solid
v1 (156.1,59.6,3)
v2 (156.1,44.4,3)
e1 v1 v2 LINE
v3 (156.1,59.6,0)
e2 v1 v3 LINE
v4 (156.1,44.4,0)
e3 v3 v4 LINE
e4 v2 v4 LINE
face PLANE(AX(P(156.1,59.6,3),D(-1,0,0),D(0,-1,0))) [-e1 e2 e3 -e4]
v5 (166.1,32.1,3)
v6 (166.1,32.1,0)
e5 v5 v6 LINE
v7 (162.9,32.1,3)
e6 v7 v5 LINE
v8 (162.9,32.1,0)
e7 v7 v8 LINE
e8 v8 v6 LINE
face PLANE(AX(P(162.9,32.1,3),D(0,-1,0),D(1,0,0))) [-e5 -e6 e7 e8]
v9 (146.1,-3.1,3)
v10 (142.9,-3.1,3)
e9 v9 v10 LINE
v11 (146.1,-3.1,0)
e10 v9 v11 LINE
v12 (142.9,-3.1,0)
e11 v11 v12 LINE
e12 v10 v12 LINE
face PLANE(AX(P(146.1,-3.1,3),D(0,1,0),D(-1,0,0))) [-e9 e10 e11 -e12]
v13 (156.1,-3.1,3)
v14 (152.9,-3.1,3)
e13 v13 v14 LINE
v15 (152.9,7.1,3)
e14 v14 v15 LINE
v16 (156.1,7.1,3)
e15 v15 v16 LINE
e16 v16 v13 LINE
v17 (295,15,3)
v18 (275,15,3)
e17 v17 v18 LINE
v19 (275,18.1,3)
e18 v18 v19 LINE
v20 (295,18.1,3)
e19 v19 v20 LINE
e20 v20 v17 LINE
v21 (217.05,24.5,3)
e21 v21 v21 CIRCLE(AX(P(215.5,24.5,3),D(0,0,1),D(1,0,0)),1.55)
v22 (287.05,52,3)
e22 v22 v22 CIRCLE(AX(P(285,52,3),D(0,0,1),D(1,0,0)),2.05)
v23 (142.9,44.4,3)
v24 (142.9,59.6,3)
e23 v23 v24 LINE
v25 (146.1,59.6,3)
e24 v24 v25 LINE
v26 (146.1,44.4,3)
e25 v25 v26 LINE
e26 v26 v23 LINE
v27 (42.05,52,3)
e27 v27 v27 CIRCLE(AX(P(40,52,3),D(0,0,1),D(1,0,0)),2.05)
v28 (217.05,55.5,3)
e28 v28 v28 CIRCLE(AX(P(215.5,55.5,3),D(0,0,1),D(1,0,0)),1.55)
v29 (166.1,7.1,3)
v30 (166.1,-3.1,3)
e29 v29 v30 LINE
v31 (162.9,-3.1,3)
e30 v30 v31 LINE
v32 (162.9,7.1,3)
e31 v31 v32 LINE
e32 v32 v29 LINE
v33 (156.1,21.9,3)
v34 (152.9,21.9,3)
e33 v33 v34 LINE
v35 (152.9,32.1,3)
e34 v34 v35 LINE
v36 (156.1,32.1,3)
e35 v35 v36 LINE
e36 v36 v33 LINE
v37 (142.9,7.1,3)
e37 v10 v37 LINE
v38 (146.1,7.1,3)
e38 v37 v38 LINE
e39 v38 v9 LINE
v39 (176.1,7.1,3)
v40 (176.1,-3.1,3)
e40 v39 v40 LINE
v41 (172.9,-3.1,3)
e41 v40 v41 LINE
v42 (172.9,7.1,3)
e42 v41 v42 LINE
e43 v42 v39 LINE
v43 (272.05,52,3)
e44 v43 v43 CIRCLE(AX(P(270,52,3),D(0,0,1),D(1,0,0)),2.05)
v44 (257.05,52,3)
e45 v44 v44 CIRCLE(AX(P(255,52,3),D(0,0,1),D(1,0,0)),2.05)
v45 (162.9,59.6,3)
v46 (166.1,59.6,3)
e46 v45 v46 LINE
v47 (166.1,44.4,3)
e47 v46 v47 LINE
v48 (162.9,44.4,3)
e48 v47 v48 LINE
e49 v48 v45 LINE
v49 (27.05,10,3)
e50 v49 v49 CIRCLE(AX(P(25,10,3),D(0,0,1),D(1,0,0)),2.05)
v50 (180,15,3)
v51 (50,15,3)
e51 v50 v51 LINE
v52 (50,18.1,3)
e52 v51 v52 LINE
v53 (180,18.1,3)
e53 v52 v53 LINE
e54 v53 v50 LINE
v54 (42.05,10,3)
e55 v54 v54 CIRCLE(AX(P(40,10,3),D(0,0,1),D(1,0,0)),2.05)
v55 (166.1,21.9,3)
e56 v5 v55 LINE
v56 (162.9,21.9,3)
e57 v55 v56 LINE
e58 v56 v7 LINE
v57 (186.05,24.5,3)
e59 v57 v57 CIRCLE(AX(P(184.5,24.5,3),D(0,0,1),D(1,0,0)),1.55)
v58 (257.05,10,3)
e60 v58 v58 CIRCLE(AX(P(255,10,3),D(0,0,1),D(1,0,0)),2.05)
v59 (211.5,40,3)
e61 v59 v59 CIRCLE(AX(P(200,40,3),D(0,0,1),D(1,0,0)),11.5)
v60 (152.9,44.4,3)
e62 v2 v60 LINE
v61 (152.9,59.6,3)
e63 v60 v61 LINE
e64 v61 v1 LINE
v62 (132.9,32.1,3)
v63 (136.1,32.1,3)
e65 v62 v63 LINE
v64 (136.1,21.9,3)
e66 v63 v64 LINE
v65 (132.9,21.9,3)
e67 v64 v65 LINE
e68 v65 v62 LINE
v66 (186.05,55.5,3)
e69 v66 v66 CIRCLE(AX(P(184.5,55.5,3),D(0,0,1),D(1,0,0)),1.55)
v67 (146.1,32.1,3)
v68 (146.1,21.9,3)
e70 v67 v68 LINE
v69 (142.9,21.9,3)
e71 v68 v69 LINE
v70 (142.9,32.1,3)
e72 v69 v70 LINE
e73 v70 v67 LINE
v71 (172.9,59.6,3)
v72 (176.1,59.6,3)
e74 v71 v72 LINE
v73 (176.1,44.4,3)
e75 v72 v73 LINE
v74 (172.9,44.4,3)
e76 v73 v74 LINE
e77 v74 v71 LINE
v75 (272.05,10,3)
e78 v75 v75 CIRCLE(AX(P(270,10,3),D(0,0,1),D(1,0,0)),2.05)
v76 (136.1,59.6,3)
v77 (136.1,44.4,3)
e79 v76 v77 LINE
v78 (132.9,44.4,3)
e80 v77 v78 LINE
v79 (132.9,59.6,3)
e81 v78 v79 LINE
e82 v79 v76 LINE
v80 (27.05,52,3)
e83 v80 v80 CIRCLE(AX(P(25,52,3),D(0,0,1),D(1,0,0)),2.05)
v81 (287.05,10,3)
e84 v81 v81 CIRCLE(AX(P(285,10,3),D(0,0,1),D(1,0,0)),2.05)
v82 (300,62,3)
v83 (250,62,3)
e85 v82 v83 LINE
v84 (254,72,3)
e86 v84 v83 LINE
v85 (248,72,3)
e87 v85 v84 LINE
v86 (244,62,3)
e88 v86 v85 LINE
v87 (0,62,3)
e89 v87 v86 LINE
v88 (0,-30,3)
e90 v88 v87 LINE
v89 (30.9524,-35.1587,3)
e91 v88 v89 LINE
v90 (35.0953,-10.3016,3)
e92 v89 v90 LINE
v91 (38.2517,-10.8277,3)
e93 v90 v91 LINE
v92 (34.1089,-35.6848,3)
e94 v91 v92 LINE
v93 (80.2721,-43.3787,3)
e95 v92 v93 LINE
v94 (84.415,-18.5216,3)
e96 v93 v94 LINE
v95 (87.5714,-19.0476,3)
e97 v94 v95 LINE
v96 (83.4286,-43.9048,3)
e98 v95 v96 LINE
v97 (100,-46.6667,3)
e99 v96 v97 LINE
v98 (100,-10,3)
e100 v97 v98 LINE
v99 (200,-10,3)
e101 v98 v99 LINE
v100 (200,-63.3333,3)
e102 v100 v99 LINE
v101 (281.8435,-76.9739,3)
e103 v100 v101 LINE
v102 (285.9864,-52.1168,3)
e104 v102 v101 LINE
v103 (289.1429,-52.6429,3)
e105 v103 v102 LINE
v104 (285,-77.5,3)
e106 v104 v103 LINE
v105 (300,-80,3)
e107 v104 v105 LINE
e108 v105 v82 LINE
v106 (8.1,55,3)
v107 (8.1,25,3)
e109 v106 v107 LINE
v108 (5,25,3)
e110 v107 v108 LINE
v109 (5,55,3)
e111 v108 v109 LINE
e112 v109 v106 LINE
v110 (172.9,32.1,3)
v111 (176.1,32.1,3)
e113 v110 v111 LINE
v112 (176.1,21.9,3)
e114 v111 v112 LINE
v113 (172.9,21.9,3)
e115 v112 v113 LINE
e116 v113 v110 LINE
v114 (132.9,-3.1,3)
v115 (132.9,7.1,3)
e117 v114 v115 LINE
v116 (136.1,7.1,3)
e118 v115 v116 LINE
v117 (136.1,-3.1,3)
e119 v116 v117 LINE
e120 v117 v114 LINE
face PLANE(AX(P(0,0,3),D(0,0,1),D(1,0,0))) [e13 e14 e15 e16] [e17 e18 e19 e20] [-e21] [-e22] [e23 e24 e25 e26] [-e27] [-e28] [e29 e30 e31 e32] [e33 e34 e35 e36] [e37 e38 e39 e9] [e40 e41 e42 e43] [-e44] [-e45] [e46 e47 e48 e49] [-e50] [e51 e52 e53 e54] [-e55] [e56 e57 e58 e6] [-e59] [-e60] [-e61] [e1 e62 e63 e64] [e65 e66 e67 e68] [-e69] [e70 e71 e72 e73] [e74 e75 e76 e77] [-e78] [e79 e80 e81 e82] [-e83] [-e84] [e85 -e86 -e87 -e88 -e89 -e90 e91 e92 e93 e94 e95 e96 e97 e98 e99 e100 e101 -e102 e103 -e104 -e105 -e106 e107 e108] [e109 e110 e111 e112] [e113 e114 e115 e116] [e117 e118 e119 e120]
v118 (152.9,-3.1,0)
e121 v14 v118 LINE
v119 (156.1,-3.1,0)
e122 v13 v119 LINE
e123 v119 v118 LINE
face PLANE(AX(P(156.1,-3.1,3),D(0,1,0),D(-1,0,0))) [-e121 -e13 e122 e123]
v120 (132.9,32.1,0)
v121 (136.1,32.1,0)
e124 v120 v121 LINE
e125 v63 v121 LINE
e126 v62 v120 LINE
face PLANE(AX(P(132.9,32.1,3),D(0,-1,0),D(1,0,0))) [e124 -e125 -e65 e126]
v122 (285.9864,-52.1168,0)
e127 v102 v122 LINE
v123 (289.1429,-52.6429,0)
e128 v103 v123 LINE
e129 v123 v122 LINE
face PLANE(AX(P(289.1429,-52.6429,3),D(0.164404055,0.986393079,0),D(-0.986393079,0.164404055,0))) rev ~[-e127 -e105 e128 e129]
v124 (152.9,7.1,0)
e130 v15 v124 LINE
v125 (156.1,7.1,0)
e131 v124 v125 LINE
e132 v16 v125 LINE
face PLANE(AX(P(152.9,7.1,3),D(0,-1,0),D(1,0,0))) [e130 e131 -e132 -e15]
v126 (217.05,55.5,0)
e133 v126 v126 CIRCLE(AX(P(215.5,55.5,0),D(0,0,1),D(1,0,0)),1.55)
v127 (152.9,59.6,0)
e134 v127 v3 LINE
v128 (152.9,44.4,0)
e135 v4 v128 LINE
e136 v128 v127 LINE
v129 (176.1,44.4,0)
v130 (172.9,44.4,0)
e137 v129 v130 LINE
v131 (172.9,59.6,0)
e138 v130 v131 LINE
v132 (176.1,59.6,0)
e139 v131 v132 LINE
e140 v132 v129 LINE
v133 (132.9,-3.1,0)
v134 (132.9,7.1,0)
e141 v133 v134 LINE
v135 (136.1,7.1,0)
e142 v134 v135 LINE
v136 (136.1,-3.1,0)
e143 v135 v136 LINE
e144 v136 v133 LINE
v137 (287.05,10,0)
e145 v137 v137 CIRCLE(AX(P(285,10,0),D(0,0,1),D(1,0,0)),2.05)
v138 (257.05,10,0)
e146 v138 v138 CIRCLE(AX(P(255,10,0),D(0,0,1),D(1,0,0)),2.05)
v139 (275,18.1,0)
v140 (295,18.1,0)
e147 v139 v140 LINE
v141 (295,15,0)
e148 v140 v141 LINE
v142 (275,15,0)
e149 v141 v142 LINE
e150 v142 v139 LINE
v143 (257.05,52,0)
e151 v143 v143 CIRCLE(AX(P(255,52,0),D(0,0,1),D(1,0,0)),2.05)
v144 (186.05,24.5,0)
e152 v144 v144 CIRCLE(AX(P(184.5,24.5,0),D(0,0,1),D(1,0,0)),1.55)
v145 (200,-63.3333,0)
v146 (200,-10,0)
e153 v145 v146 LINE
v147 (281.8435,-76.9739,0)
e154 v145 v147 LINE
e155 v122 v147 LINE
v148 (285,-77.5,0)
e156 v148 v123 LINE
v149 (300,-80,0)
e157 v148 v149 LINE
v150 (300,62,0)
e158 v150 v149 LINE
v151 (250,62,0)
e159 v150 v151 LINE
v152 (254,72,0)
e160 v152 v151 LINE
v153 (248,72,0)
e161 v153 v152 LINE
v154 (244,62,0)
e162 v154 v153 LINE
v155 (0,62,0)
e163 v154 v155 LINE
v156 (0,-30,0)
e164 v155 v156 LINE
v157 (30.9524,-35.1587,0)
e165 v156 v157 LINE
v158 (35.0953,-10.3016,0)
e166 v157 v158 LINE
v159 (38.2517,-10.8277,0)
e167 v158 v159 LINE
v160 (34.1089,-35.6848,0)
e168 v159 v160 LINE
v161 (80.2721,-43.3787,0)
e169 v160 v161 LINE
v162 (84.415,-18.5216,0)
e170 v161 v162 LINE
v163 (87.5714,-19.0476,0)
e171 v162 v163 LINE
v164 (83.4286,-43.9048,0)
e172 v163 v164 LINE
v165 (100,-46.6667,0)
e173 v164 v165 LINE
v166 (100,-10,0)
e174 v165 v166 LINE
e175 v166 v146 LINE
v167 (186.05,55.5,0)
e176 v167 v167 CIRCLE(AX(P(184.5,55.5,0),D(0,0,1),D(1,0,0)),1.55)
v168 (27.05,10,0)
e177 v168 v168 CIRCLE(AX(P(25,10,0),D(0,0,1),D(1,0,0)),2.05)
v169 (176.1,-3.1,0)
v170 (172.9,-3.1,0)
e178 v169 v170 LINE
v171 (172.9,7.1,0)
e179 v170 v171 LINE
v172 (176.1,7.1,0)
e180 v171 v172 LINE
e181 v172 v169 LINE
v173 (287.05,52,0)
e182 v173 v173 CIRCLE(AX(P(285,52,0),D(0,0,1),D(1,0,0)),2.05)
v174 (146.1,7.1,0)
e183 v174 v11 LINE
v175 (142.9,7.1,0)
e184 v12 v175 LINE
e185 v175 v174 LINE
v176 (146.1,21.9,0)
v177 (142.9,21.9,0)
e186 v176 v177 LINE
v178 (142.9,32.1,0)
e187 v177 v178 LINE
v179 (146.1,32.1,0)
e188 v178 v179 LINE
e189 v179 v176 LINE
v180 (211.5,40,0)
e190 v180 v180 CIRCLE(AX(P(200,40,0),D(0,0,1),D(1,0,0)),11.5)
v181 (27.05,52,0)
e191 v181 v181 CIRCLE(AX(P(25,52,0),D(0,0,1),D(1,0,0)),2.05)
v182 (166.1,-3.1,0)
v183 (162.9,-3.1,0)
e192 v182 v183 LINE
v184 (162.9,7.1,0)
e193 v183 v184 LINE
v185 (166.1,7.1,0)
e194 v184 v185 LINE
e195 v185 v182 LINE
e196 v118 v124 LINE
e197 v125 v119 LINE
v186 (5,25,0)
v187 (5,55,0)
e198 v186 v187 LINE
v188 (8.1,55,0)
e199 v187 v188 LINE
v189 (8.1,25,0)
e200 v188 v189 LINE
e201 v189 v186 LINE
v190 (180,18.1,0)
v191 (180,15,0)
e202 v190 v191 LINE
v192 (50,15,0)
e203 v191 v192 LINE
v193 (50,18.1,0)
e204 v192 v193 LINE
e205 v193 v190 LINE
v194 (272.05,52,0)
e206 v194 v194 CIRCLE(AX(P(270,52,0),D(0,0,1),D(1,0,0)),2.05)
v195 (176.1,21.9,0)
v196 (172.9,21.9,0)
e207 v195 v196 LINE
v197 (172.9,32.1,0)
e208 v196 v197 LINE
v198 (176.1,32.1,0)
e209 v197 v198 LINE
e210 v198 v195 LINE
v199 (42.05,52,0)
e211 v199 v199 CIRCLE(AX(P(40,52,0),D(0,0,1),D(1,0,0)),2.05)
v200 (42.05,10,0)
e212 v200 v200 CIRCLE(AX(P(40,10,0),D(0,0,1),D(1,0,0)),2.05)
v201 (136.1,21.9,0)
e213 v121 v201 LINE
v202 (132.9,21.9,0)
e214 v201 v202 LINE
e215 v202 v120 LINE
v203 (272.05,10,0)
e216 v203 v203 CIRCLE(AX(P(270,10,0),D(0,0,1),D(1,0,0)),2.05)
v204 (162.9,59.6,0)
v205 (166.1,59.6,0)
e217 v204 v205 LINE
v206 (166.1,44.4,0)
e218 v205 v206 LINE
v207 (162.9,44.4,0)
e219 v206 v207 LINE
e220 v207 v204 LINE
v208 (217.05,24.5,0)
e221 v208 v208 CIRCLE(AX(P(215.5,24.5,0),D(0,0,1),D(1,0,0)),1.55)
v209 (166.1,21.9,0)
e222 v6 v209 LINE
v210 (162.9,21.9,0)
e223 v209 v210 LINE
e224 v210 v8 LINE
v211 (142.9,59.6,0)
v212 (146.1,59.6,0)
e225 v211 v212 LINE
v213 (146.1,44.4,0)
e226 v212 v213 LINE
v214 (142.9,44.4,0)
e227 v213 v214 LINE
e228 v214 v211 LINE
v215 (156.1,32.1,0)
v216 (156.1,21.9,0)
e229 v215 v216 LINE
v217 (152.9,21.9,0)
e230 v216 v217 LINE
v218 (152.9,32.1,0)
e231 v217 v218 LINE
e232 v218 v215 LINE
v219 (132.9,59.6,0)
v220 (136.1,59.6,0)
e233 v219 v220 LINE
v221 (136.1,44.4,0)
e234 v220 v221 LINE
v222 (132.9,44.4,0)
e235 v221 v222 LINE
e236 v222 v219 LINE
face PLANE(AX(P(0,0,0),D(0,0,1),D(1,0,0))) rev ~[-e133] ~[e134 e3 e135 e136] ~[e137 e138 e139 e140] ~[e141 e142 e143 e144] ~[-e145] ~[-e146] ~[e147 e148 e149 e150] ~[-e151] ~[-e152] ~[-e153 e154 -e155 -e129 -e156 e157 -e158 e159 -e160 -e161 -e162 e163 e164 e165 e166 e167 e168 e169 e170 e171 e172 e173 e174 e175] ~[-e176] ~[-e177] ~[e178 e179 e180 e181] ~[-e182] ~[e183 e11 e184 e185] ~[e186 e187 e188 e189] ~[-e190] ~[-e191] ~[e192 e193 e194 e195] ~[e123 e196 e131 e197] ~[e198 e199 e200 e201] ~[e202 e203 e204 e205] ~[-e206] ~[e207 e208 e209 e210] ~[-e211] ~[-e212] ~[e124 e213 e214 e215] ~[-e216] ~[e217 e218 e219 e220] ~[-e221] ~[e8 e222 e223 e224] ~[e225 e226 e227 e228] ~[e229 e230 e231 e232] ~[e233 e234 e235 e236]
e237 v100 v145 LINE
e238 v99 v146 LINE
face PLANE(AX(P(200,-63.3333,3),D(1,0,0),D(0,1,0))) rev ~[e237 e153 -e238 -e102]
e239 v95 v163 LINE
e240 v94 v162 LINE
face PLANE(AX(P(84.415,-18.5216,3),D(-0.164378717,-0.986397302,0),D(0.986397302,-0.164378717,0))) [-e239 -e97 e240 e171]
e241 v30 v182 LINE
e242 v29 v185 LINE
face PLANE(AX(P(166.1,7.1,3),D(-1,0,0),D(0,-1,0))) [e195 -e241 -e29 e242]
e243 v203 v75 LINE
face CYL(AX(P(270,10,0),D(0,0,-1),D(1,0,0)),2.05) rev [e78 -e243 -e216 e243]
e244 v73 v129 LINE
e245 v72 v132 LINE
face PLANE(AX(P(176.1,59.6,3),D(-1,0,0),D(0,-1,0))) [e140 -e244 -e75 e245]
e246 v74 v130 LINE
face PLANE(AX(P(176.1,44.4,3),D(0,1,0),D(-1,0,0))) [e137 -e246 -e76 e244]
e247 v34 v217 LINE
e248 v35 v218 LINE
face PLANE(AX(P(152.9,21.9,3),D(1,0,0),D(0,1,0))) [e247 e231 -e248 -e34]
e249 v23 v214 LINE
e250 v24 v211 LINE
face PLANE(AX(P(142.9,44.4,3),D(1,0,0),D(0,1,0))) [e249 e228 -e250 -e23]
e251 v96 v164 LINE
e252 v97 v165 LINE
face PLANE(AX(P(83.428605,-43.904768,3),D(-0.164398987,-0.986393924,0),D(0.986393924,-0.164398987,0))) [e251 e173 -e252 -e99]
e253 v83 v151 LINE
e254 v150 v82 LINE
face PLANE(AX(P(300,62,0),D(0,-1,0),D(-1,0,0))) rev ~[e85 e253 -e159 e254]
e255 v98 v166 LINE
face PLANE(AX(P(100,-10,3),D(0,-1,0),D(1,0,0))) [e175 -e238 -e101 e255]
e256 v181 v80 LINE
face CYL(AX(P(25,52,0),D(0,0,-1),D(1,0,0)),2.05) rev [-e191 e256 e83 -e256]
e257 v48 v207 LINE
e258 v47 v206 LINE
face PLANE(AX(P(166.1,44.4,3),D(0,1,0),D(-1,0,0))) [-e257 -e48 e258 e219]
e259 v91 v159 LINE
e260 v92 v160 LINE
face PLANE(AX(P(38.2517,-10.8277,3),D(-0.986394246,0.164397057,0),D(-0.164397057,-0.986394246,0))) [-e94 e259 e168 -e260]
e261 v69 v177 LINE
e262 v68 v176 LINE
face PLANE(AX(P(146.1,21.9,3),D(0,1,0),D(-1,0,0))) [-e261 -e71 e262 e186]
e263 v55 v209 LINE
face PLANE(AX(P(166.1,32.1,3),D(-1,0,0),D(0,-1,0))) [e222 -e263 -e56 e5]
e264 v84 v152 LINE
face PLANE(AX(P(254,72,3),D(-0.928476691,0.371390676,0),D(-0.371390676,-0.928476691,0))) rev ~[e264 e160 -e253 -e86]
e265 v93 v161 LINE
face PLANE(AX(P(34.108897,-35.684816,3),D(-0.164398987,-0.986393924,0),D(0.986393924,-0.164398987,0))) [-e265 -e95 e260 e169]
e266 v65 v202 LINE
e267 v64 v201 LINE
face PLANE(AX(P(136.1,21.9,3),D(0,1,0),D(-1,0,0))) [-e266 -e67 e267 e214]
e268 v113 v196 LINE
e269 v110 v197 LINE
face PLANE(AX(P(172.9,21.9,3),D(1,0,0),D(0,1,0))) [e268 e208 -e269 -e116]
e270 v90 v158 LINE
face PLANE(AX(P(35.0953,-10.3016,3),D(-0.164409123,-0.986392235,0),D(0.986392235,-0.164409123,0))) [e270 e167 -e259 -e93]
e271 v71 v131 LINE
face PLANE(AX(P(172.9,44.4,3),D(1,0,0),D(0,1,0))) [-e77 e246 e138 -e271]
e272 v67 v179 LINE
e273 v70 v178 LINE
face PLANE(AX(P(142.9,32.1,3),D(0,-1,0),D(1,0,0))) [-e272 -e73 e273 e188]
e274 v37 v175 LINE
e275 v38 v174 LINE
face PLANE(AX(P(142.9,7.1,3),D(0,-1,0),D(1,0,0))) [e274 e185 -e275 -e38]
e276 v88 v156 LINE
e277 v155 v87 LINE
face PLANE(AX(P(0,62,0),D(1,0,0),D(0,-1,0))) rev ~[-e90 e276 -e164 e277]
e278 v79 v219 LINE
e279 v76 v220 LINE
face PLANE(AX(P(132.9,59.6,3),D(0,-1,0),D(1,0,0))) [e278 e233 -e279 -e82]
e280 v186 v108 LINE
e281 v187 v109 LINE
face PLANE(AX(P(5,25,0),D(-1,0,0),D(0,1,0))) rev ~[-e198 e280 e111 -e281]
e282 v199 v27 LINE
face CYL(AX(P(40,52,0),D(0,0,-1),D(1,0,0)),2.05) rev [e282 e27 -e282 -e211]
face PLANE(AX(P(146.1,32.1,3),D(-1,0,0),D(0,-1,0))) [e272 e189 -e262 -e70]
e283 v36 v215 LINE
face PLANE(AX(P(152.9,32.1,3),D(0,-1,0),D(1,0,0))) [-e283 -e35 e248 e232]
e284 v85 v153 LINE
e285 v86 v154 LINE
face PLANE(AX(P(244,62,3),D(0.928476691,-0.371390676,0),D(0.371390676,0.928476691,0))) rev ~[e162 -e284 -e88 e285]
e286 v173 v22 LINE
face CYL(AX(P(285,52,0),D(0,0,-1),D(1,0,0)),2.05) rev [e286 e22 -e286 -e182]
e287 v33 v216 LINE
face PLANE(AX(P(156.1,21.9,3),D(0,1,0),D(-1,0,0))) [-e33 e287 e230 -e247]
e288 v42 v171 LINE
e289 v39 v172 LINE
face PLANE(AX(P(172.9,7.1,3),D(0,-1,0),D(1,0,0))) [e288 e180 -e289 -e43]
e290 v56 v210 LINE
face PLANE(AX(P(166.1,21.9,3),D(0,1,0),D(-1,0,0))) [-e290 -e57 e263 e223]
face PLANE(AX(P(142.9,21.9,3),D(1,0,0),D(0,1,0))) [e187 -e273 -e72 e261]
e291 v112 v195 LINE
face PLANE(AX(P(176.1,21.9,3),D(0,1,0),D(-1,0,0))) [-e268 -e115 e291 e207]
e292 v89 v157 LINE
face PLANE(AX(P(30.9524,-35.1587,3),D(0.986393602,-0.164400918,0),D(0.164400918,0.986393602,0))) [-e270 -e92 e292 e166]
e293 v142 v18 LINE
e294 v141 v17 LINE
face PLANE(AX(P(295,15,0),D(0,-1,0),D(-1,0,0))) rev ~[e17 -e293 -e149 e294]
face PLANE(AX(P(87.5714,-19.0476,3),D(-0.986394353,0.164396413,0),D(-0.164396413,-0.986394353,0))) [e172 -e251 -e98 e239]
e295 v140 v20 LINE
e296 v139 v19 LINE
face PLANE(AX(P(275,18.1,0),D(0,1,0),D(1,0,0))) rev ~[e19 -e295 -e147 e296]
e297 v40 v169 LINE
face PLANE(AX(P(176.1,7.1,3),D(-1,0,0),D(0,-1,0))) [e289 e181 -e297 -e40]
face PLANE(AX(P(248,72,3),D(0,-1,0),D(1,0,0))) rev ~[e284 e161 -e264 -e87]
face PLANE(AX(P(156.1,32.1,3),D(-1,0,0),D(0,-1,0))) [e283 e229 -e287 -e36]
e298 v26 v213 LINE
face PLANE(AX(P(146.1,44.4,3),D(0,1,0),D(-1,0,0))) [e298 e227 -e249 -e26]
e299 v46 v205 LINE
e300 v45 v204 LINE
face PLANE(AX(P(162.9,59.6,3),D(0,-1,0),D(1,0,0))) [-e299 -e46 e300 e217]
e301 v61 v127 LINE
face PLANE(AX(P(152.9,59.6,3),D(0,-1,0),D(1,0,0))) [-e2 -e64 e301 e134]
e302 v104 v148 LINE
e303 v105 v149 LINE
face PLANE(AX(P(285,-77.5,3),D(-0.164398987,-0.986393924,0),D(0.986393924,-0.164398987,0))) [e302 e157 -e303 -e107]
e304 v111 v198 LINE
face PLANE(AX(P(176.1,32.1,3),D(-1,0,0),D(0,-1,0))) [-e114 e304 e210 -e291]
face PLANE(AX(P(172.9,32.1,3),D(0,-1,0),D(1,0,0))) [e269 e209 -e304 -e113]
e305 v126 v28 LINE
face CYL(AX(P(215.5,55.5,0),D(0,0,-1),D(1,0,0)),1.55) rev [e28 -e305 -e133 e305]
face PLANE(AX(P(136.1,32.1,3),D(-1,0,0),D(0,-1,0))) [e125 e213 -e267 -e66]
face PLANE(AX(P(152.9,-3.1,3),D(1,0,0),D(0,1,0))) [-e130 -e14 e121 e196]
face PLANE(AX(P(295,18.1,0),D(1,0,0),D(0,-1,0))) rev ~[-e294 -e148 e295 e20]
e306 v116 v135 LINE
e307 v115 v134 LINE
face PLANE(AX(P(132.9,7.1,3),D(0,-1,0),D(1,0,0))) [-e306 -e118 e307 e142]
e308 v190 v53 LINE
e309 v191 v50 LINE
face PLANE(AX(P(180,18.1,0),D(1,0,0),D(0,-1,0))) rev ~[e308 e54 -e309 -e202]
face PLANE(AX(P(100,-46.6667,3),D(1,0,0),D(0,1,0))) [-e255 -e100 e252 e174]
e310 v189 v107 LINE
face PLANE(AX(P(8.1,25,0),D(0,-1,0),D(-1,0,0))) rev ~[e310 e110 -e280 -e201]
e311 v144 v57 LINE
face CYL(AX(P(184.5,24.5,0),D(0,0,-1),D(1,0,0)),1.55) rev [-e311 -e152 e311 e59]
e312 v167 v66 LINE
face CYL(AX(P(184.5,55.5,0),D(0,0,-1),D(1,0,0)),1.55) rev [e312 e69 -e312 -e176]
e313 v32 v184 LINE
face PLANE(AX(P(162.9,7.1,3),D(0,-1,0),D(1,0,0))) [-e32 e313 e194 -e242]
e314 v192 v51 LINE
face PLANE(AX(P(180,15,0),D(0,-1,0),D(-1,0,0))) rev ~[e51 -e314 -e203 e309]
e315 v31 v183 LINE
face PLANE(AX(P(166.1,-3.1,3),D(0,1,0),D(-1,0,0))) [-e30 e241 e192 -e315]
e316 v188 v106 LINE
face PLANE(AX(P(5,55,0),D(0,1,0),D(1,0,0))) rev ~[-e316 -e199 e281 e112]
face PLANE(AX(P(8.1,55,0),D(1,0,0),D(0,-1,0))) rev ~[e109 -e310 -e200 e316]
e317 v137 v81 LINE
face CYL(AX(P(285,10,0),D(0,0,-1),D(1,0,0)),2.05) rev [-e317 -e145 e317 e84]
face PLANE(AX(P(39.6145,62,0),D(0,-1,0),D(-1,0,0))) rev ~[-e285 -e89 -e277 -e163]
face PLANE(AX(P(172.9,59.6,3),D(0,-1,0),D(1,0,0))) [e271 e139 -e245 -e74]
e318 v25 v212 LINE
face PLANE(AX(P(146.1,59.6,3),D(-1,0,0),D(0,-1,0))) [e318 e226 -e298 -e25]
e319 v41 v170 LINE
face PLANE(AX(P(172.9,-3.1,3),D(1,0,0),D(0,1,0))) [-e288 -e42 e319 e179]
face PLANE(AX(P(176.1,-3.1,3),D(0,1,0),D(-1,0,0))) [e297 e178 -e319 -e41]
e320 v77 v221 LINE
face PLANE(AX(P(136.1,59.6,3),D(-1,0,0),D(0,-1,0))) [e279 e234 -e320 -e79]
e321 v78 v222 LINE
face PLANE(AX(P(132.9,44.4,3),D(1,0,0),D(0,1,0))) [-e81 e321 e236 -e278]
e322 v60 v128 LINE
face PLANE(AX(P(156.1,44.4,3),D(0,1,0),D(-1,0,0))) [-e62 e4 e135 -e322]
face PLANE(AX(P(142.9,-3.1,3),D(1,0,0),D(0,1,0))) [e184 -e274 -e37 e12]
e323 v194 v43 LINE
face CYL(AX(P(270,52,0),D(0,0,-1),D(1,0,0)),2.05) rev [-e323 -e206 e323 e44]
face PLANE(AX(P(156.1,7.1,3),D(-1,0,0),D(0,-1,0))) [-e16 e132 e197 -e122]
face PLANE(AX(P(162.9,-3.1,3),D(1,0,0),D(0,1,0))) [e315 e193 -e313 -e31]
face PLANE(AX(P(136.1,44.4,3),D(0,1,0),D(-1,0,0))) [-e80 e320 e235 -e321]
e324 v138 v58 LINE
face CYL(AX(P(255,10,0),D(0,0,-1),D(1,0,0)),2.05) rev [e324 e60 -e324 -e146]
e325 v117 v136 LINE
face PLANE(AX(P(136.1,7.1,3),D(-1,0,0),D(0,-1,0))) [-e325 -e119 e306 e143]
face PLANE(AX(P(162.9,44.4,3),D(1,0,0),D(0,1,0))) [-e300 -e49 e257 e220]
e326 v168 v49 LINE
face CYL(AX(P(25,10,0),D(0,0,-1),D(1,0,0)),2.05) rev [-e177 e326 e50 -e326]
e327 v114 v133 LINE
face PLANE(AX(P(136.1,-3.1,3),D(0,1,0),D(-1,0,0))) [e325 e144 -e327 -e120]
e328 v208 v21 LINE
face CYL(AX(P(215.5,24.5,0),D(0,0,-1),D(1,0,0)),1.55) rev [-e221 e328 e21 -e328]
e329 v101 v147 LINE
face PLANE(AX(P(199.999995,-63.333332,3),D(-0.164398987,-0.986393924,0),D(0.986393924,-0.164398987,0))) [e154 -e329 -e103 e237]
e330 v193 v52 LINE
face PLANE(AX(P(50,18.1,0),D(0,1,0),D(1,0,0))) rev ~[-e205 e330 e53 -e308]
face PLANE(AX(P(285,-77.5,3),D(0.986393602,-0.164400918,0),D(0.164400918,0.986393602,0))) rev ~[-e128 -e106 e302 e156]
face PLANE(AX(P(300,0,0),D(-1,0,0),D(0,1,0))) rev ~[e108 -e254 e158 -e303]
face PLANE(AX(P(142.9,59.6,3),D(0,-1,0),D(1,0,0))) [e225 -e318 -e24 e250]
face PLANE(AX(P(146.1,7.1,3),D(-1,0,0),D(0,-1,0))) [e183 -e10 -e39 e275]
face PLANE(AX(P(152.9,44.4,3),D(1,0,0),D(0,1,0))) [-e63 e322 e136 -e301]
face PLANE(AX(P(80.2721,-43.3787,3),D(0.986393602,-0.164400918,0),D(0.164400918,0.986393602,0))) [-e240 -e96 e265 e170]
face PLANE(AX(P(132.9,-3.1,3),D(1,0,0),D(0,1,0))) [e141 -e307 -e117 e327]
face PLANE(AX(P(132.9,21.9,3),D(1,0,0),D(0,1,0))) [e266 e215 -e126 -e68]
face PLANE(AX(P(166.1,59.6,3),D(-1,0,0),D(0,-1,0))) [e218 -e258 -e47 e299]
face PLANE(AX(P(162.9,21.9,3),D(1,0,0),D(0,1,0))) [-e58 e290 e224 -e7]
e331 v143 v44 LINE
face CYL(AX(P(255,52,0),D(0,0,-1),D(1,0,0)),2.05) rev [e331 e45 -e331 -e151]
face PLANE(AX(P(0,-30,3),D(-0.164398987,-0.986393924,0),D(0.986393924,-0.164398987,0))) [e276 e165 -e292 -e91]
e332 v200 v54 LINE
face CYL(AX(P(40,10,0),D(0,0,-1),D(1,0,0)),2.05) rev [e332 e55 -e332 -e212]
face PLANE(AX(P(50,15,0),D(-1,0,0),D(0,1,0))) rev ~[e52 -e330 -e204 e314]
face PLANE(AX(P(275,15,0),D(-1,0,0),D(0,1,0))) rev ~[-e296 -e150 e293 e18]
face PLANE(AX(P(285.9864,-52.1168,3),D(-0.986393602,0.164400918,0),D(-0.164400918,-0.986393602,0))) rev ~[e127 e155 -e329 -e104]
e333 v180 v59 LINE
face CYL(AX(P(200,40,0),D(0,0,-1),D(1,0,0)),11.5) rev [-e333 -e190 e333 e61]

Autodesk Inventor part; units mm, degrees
ref_plane "YZ Plane" through (0, 0, 0) normal (1, 0, 0) x (0, 1, 0)
ref_plane "XZ Plane" through (0, 0, 0) normal (0, 1, 0) x (-1, 0, 0)
ref_plane "XY Plane" through (0, 0, 0) normal (0, 0, 1) x (1, 0, 0)
sketch "Sketch1" plane through (0, 0, 0) normal (0, 0, 1) x (1, 0, 0)
  line L0 (0, 0) -> (300, 0)
  line L1 (300, 0) -> (300, 62)
  line L2 (300, 62) -> (0, 62)
  line L3 (0, 62) -> (0, 0)
  circle A0 centre (184.5, 55.5) radius 1.55
  circle A1 centre (184.5, 24.5) radius 1.55
  circle A2 centre (215.5, 55.5) radius 1.55
  circle A3 centre (215.5, 24.5) radius 1.55
  circle A4 centre (200, 40) radius 11.5
  line L4 (50, 18.1) -> (180, 18.1)
  line L5 (180, 18.1) -> (180, 15)
  line L6 (180, 15) -> (50, 15)
  line L7 (50, 15) -> (50, 18.1)
  line L8 (0, 62) -> (39.6145, 62)
  line L9 (8.1, 25) -> (5, 25)
  line L10 (5, 25) -> (5, 55)
  line L11 (5, 55) -> (8.1, 55)
  line L12 (8.1, 55) -> (8.1, 25)
  line L13 (8.1, 25) -> (5, 55) construction
  line L14 (5, 25) -> (8.1, 55) construction
  circle A5 centre (285, 10) radius 2.05
  circle A6 centre (270, 10) radius 2.05
  circle A7 centre (285, 52) radius 2.05
  circle A8 centre (270, 52) radius 2.05
  circle A9 centre (255, 52) radius 2.05
  circle A10 centre (255, 10) radius 2.05
  circle A11 centre (40, 10) radius 2.05
  circle A12 centre (25, 10) radius 2.05
  circle A13 centre (40, 52) radius 2.05
  circle A14 centre (25, 52) radius 2.05
  line L15 (275, 18.1) -> (295, 18.1)
  line L16 (295, 18.1) -> (295, 15)
  line L17 (295, 15) -> (275, 15)
  line L18 (275, 15) -> (275, 18.1)
  line L19 (0, 62) -> (50, 62)
  point P0 (6.55, 40)
  point P1 (5, 40)
  point P2 (8.1, 40)
  point P3 (50, 16.55)
  point P4 (180, 16.55)
  dimension "d1" = 3.1
  dimension "d2" = 3.1
  dimension "d3" = 3.1
  dimension "d4" = 3.1
  dimension "d5" = 31
  dimension "d7" = 23
  dimension "d8" = 15.5
  dimension "d9" = 15.5
  dimension "d10" = 62
  dimension "d11" = 31
  dimension "d12" = 3.1
  dimension "d13" = 40
  dimension "d54" = 300
  dimension "d55" = 3.1
  dimension "d56" = 5
  dimension "d57" = 15
  dimension "d59" = 130
  dimension "d63" = 4.1
  dimension "d64" = 4.1
  dimension "d65" = 4.1
  dimension "d66" = 4.1
  dimension "d67" = 4.1
  dimension "d68" = 4.1
  dimension "d69" = 15
  dimension "d70" = 15
  dimension "d71" = 10
  dimension "d72" = 10
  dimension "d73" = 15
  dimension "d79" = 4.1
  dimension "d80" = 4.1
  dimension "d81" = 4.1
  dimension "d82" = 4.1
  dimension "d85" = 15
  dimension "d87" = 10
  dimension "d88" = 10
  dimension "d89" = 10
  dimension "d91" = 5
  dimension "d92" = 20
  dimension "d93" = 15
  dimension "d106" = 20
  dimension "d107" = 50
extrude "Extrusion1" add sketch "Sketch1" along normal blind 3
sketch "Sketch4" plane through (0, 0, 3) normal (0, 0, 1) x (1, 0, 0)
  line L0 (300, 62) -> (0, 62) projected
  line L1 (244, 62) -> (248, 72)
  line L2 (248, 72) -> (254, 72)
  line L3 (254, 72) -> (250, 62)
  point P0 (0, 0)
  dimension "d108" = 10
  dimension "d109" = 4
  dimension "d110" = 50
  dimension "d111" = 6
extrude "Extrusion4" add sketch "Sketch4" against normal blind 3
sketch "Sketch5" plane through (0, 0, 3) normal (0, 0, 1) x (1, 0, 0)
  line L0 (0, 0) -> (300, 0) projected
  line L1 (0, -30) -> (300, -80)
  line L2 (300, -80) -> (300, 0)
  line L3 (100, -46.6667) -> (100, 0)
  line L4 (200, -63.3333) -> (200, 0)
  line L5 (0, 0) -> (0, -30)
  line L6 (80.2721, -43.3787) -> (84.415, -18.5216)
  line L7 (84.415, -18.5216) -> (87.5714, -19.0476)
  line L8 (87.5714, -19.0476) -> (83.4286, -43.9048)
  line L9 (80.2721, -43.3787) -> (83.4286, -43.9048)
  line L10 (35.0953, -10.3016) -> (38.2517, -10.8277)
  line L11 (38.2517, -10.8277) -> (34.1089, -35.6848)
  line L12 (30.9524, -35.1587) -> (35.0953, -10.3016)
  line L13 (30.9524, -35.1587) -> (34.1089, -35.6848)
  line L14 (100, -10) -> (200, -10)
  line L15 (285, -77.5) -> (289.1429, -52.6429)
  line L16 (289.1429, -52.6429) -> (285.9864, -52.1168)
  line L17 (285.9864, -52.1168) -> (281.8435, -76.9739)
  point P0 (-183.9333, 0)
  dimension "d114" = 100
  dimension "d115" = 100
  dimension "d116" = 80
  dimension "d137" = 30
  dimension "d138" = 25.2
  dimension "d139" = 3.2
  dimension "d141" = 20
  dimension "d142" = 25.2
  dimension "d143" = 3.2
  dimension "d146" = 50
  dimension "d175" = 10
  dimension "d196" = 0
  dimension "d198" = 25.2
  dimension "d199" = 3.2
  dimension "d200" = 15
extrude "Extrusion5" add sketch "Sketch5" against normal blind 3 contours L0 L3 L1 L8 L7 L6 L11 L10 L12 L5 | L0 L4 L14 L3 | L0 L2 L1 L15 L16 L17 L4
sketch "Sketch7" plane through (0, 0, 3) normal (0, 0, 1) x (1, 0, 0)
  line L0 (172.9, 59.6) -> (176.1, 59.6)
  line L1 (176.1, 59.6) -> (176.1, 44.4)
  line L2 (176.1, 44.4) -> (172.9, 44.4)
  line L3 (172.9, 44.4) -> (172.9, 59.6)
  line L4 (172.9, 59.6) -> (176.1, 44.4) construction
  line L5 (176.1, 59.6) -> (172.9, 44.4) construction
  line L6 (172.9, 32.1) -> (176.1, 32.1)
  line L7 (176.1, 32.1) -> (176.1, 21.9)
  line L8 (176.1, 21.9) -> (172.9, 21.9)
  line L9 (172.9, 21.9) -> (172.9, 32.1)
  line L10 (172.9, 32.1) -> (176.1, 21.9) construction
  line L11 (176.1, 32.1) -> (172.9, 21.9) construction
  line L12 (244, 62) -> (0, 62) projected
  circle A0 centre (184.5, 55.5) radius 1.55 projected
  line L13 (162.9, 59.6) -> (166.1, 59.6)
  line L14 (166.1, 59.6) -> (166.1, 44.4)
  line L15 (166.1, 44.4) -> (162.9, 44.4)
  line L16 (162.9, 44.4) -> (162.9, 59.6)
  line L17 (162.9, 59.6) -> (166.1, 44.4) construction
  line L18 (166.1, 59.6) -> (162.9, 44.4) construction
  line L19 (162.9, 32.1) -> (166.1, 32.1)
  line L20 (166.1, 32.1) -> (166.1, 21.9)
  line L21 (166.1, 21.9) -> (162.9, 21.9)
  line L22 (162.9, 21.9) -> (162.9, 32.1)
  line L23 (162.9, 32.1) -> (166.1, 21.9) construction
  line L24 (166.1, 32.1) -> (162.9, 21.9) construction
  line L25 (152.9, 59.6) -> (156.1, 59.6)
  line L26 (156.1, 59.6) -> (156.1, 44.4)
  line L27 (156.1, 44.4) -> (152.9, 44.4)
  line L28 (152.9, 44.4) -> (152.9, 59.6)
  line L29 (152.9, 59.6) -> (156.1, 44.4) construction
  line L30 (156.1, 59.6) -> (152.9, 44.4) construction
  line L31 (152.9, 32.1) -> (156.1, 32.1)
  line L32 (156.1, 32.1) -> (156.1, 21.9)
  line L33 (156.1, 21.9) -> (152.9, 21.9)
  line L34 (152.9, 21.9) -> (152.9, 32.1)
  line L35 (152.9, 32.1) -> (156.1, 21.9) construction
  line L36 (156.1, 32.1) -> (152.9, 21.9) construction
  line L37 (142.9, 59.6) -> (146.1, 59.6)
  line L38 (146.1, 59.6) -> (146.1, 44.4)
  line L39 (146.1, 44.4) -> (142.9, 44.4)
  line L40 (142.9, 44.4) -> (142.9, 59.6)
  line L41 (142.9, 59.6) -> (146.1, 44.4) construction
  line L42 (146.1, 59.6) -> (142.9, 44.4) construction
  line L43 (142.9, 32.1) -> (146.1, 32.1)
  line L44 (146.1, 32.1) -> (146.1, 21.9)
  line L45 (146.1, 21.9) -> (142.9, 21.9)
  line L46 (142.9, 21.9) -> (142.9, 32.1)
  line L47 (142.9, 32.1) -> (146.1, 21.9) construction
  line L48 (146.1, 32.1) -> (142.9, 21.9) construction
  line L49 (132.9, 59.6) -> (136.1, 59.6)
  line L50 (136.1, 59.6) -> (136.1, 44.4)
  line L51 (136.1, 44.4) -> (132.9, 44.4)
  line L52 (132.9, 44.4) -> (132.9, 59.6)
  line L53 (132.9, 59.6) -> (136.1, 44.4) construction
  line L54 (136.1, 59.6) -> (132.9, 44.4) construction
  line L55 (132.9, 32.1) -> (136.1, 32.1)
  line L56 (136.1, 32.1) -> (136.1, 21.9)
  line L57 (136.1, 21.9) -> (132.9, 21.9)
  line L58 (132.9, 21.9) -> (132.9, 32.1)
  line L59 (132.9, 32.1) -> (136.1, 21.9) construction
  line L60 (136.1, 32.1) -> (132.9, 21.9) construction
  line L61 (172.9, 7.1) -> (176.1, 7.1)
  line L62 (176.1, 7.1) -> (176.1, -3.1)
  line L63 (176.1, -3.1) -> (172.9, -3.1)
  line L64 (172.9, -3.1) -> (172.9, 7.1)
  line L65 (172.9, 7.1) -> (176.1, -3.1) construction
  line L66 (176.1, 7.1) -> (172.9, -3.1) construction
  line L67 (166.1, 7.1) -> (166.1, -3.1)
  line L68 (166.1, -3.1) -> (162.9, -3.1)
  line L69 (162.9, 7.1) -> (166.1, 7.1)
  line L70 (162.9, -3.1) -> (162.9, 7.1)
  line L71 (162.9, 7.1) -> (166.1, -3.1) construction
  line L72 (166.1, 7.1) -> (162.9, -3.1) construction
  line L73 (156.1, 7.1) -> (156.1, -3.1)
  line L74 (156.1, -3.1) -> (152.9, -3.1)
  line L75 (152.9, 7.1) -> (156.1, 7.1)
  line L76 (152.9, -3.1) -> (152.9, 7.1)
  line L77 (152.9, 7.1) -> (156.1, -3.1) construction
  line L78 (156.1, 7.1) -> (152.9, -3.1) construction
  line L79 (146.1, 7.1) -> (146.1, -3.1)
  line L80 (146.1, -3.1) -> (142.9, -3.1)
  line L81 (142.9, 7.1) -> (146.1, 7.1)
  line L82 (142.9, -3.1) -> (142.9, 7.1)
  line L83 (142.9, 7.1) -> (146.1, -3.1) construction
  line L84 (146.1, 7.1) -> (142.9, -3.1) construction
  line L85 (136.1, 7.1) -> (136.1, -3.1)
  line L86 (136.1, -3.1) -> (132.9, -3.1)
  line L87 (132.9, 7.1) -> (136.1, 7.1)
  line L88 (132.9, -3.1) -> (132.9, 7.1)
  line L89 (132.9, 7.1) -> (136.1, -3.1) construction
  line L90 (136.1, 7.1) -> (132.9, -3.1) construction
  point P0 (0, 0)
  point P1 (174.5, 52)
  point P2 (174.5, 27)
  point P3 (164.5, 52)
  point P4 (164.5, 27)
  point P5 (154.5, 52)
  point P6 (154.5, 27)
  point P7 (144.5, 52)
  point P8 (144.5, 27)
  point P9 (134.5, 52)
  point P10 (134.5, 27)
  point P11 (172.9, 52)
  point P12 (152.9, 52)
  point P13 (174.5, 2)
  point P14 (164.5, 2)
  point P15 (154.5, 2)
  point P16 (144.5, 2)
  point P17 (134.5, 2)
  point P18 (172.9, 2)
  point P19 (152.9, 2)
  dimension "d147" = 3.2
  dimension "d148" = 15.2
  dimension "d149" = 10.2
  dimension "d150" = 25
  dimension "d151" = 10
  dimension "d152" = 10
  dimension "d153" = 3.2
  dimension "d154" = 15.2
  dimension "d155" = 10.2
  dimension "d156" = 25
  dimension "d157" = 3.2
  dimension "d158" = 15.2
  dimension "d159" = 10.2
  dimension "d160" = 25
  dimension "d161" = 3.2
  dimension "d162" = 15.2
  dimension "d163" = 10.2
  dimension "d164" = 25
  dimension "d165" = 3.2
  dimension "d166" = 15.2
  dimension "d167" = 10.2
  dimension "d168" = 25
  dimension "d169" = 10
  dimension "d170" = 10
  dimension "d171" = 10
  dimension "d172" = 10
  dimension "d181" = 3.2
  dimension "d182" = 10.2
  dimension "d183" = 3.2
  dimension "d184" = 10.2
  dimension "d185" = 3.2
  dimension "d186" = 10.2
  dimension "d187" = 3.2
  dimension "d188" = 10.2
  dimension "d189" = 3.2
  dimension "d190" = 10.2
  dimension "d191" = 10
  dimension "d192" = 10
  dimension "d193" = 10
  dimension "d194" = 10
  dimension "d195" = 25
extrude "Extrusion6" cut sketch "Sketch7" against normal blind 3 contours L0 L1 L2 L3 | L6 L7 L8 L9 | L13 L14 L15 L16 | L19 L20 L21 L22 | L25 L26 L27 L28 | L31 L32 L33 L34 | L37 L38 L39 L40 | L43 L44 L45 L46 | L49 L50 L51 L52 | L55 L56 L57 L58 | L61 L62 L63 L64 | L67 L68 L70 L69 | L73 L74 L76 L75 | L79 L80 L82 L81 | L85 L86 L88 L87
properties part number "Sideboard"
